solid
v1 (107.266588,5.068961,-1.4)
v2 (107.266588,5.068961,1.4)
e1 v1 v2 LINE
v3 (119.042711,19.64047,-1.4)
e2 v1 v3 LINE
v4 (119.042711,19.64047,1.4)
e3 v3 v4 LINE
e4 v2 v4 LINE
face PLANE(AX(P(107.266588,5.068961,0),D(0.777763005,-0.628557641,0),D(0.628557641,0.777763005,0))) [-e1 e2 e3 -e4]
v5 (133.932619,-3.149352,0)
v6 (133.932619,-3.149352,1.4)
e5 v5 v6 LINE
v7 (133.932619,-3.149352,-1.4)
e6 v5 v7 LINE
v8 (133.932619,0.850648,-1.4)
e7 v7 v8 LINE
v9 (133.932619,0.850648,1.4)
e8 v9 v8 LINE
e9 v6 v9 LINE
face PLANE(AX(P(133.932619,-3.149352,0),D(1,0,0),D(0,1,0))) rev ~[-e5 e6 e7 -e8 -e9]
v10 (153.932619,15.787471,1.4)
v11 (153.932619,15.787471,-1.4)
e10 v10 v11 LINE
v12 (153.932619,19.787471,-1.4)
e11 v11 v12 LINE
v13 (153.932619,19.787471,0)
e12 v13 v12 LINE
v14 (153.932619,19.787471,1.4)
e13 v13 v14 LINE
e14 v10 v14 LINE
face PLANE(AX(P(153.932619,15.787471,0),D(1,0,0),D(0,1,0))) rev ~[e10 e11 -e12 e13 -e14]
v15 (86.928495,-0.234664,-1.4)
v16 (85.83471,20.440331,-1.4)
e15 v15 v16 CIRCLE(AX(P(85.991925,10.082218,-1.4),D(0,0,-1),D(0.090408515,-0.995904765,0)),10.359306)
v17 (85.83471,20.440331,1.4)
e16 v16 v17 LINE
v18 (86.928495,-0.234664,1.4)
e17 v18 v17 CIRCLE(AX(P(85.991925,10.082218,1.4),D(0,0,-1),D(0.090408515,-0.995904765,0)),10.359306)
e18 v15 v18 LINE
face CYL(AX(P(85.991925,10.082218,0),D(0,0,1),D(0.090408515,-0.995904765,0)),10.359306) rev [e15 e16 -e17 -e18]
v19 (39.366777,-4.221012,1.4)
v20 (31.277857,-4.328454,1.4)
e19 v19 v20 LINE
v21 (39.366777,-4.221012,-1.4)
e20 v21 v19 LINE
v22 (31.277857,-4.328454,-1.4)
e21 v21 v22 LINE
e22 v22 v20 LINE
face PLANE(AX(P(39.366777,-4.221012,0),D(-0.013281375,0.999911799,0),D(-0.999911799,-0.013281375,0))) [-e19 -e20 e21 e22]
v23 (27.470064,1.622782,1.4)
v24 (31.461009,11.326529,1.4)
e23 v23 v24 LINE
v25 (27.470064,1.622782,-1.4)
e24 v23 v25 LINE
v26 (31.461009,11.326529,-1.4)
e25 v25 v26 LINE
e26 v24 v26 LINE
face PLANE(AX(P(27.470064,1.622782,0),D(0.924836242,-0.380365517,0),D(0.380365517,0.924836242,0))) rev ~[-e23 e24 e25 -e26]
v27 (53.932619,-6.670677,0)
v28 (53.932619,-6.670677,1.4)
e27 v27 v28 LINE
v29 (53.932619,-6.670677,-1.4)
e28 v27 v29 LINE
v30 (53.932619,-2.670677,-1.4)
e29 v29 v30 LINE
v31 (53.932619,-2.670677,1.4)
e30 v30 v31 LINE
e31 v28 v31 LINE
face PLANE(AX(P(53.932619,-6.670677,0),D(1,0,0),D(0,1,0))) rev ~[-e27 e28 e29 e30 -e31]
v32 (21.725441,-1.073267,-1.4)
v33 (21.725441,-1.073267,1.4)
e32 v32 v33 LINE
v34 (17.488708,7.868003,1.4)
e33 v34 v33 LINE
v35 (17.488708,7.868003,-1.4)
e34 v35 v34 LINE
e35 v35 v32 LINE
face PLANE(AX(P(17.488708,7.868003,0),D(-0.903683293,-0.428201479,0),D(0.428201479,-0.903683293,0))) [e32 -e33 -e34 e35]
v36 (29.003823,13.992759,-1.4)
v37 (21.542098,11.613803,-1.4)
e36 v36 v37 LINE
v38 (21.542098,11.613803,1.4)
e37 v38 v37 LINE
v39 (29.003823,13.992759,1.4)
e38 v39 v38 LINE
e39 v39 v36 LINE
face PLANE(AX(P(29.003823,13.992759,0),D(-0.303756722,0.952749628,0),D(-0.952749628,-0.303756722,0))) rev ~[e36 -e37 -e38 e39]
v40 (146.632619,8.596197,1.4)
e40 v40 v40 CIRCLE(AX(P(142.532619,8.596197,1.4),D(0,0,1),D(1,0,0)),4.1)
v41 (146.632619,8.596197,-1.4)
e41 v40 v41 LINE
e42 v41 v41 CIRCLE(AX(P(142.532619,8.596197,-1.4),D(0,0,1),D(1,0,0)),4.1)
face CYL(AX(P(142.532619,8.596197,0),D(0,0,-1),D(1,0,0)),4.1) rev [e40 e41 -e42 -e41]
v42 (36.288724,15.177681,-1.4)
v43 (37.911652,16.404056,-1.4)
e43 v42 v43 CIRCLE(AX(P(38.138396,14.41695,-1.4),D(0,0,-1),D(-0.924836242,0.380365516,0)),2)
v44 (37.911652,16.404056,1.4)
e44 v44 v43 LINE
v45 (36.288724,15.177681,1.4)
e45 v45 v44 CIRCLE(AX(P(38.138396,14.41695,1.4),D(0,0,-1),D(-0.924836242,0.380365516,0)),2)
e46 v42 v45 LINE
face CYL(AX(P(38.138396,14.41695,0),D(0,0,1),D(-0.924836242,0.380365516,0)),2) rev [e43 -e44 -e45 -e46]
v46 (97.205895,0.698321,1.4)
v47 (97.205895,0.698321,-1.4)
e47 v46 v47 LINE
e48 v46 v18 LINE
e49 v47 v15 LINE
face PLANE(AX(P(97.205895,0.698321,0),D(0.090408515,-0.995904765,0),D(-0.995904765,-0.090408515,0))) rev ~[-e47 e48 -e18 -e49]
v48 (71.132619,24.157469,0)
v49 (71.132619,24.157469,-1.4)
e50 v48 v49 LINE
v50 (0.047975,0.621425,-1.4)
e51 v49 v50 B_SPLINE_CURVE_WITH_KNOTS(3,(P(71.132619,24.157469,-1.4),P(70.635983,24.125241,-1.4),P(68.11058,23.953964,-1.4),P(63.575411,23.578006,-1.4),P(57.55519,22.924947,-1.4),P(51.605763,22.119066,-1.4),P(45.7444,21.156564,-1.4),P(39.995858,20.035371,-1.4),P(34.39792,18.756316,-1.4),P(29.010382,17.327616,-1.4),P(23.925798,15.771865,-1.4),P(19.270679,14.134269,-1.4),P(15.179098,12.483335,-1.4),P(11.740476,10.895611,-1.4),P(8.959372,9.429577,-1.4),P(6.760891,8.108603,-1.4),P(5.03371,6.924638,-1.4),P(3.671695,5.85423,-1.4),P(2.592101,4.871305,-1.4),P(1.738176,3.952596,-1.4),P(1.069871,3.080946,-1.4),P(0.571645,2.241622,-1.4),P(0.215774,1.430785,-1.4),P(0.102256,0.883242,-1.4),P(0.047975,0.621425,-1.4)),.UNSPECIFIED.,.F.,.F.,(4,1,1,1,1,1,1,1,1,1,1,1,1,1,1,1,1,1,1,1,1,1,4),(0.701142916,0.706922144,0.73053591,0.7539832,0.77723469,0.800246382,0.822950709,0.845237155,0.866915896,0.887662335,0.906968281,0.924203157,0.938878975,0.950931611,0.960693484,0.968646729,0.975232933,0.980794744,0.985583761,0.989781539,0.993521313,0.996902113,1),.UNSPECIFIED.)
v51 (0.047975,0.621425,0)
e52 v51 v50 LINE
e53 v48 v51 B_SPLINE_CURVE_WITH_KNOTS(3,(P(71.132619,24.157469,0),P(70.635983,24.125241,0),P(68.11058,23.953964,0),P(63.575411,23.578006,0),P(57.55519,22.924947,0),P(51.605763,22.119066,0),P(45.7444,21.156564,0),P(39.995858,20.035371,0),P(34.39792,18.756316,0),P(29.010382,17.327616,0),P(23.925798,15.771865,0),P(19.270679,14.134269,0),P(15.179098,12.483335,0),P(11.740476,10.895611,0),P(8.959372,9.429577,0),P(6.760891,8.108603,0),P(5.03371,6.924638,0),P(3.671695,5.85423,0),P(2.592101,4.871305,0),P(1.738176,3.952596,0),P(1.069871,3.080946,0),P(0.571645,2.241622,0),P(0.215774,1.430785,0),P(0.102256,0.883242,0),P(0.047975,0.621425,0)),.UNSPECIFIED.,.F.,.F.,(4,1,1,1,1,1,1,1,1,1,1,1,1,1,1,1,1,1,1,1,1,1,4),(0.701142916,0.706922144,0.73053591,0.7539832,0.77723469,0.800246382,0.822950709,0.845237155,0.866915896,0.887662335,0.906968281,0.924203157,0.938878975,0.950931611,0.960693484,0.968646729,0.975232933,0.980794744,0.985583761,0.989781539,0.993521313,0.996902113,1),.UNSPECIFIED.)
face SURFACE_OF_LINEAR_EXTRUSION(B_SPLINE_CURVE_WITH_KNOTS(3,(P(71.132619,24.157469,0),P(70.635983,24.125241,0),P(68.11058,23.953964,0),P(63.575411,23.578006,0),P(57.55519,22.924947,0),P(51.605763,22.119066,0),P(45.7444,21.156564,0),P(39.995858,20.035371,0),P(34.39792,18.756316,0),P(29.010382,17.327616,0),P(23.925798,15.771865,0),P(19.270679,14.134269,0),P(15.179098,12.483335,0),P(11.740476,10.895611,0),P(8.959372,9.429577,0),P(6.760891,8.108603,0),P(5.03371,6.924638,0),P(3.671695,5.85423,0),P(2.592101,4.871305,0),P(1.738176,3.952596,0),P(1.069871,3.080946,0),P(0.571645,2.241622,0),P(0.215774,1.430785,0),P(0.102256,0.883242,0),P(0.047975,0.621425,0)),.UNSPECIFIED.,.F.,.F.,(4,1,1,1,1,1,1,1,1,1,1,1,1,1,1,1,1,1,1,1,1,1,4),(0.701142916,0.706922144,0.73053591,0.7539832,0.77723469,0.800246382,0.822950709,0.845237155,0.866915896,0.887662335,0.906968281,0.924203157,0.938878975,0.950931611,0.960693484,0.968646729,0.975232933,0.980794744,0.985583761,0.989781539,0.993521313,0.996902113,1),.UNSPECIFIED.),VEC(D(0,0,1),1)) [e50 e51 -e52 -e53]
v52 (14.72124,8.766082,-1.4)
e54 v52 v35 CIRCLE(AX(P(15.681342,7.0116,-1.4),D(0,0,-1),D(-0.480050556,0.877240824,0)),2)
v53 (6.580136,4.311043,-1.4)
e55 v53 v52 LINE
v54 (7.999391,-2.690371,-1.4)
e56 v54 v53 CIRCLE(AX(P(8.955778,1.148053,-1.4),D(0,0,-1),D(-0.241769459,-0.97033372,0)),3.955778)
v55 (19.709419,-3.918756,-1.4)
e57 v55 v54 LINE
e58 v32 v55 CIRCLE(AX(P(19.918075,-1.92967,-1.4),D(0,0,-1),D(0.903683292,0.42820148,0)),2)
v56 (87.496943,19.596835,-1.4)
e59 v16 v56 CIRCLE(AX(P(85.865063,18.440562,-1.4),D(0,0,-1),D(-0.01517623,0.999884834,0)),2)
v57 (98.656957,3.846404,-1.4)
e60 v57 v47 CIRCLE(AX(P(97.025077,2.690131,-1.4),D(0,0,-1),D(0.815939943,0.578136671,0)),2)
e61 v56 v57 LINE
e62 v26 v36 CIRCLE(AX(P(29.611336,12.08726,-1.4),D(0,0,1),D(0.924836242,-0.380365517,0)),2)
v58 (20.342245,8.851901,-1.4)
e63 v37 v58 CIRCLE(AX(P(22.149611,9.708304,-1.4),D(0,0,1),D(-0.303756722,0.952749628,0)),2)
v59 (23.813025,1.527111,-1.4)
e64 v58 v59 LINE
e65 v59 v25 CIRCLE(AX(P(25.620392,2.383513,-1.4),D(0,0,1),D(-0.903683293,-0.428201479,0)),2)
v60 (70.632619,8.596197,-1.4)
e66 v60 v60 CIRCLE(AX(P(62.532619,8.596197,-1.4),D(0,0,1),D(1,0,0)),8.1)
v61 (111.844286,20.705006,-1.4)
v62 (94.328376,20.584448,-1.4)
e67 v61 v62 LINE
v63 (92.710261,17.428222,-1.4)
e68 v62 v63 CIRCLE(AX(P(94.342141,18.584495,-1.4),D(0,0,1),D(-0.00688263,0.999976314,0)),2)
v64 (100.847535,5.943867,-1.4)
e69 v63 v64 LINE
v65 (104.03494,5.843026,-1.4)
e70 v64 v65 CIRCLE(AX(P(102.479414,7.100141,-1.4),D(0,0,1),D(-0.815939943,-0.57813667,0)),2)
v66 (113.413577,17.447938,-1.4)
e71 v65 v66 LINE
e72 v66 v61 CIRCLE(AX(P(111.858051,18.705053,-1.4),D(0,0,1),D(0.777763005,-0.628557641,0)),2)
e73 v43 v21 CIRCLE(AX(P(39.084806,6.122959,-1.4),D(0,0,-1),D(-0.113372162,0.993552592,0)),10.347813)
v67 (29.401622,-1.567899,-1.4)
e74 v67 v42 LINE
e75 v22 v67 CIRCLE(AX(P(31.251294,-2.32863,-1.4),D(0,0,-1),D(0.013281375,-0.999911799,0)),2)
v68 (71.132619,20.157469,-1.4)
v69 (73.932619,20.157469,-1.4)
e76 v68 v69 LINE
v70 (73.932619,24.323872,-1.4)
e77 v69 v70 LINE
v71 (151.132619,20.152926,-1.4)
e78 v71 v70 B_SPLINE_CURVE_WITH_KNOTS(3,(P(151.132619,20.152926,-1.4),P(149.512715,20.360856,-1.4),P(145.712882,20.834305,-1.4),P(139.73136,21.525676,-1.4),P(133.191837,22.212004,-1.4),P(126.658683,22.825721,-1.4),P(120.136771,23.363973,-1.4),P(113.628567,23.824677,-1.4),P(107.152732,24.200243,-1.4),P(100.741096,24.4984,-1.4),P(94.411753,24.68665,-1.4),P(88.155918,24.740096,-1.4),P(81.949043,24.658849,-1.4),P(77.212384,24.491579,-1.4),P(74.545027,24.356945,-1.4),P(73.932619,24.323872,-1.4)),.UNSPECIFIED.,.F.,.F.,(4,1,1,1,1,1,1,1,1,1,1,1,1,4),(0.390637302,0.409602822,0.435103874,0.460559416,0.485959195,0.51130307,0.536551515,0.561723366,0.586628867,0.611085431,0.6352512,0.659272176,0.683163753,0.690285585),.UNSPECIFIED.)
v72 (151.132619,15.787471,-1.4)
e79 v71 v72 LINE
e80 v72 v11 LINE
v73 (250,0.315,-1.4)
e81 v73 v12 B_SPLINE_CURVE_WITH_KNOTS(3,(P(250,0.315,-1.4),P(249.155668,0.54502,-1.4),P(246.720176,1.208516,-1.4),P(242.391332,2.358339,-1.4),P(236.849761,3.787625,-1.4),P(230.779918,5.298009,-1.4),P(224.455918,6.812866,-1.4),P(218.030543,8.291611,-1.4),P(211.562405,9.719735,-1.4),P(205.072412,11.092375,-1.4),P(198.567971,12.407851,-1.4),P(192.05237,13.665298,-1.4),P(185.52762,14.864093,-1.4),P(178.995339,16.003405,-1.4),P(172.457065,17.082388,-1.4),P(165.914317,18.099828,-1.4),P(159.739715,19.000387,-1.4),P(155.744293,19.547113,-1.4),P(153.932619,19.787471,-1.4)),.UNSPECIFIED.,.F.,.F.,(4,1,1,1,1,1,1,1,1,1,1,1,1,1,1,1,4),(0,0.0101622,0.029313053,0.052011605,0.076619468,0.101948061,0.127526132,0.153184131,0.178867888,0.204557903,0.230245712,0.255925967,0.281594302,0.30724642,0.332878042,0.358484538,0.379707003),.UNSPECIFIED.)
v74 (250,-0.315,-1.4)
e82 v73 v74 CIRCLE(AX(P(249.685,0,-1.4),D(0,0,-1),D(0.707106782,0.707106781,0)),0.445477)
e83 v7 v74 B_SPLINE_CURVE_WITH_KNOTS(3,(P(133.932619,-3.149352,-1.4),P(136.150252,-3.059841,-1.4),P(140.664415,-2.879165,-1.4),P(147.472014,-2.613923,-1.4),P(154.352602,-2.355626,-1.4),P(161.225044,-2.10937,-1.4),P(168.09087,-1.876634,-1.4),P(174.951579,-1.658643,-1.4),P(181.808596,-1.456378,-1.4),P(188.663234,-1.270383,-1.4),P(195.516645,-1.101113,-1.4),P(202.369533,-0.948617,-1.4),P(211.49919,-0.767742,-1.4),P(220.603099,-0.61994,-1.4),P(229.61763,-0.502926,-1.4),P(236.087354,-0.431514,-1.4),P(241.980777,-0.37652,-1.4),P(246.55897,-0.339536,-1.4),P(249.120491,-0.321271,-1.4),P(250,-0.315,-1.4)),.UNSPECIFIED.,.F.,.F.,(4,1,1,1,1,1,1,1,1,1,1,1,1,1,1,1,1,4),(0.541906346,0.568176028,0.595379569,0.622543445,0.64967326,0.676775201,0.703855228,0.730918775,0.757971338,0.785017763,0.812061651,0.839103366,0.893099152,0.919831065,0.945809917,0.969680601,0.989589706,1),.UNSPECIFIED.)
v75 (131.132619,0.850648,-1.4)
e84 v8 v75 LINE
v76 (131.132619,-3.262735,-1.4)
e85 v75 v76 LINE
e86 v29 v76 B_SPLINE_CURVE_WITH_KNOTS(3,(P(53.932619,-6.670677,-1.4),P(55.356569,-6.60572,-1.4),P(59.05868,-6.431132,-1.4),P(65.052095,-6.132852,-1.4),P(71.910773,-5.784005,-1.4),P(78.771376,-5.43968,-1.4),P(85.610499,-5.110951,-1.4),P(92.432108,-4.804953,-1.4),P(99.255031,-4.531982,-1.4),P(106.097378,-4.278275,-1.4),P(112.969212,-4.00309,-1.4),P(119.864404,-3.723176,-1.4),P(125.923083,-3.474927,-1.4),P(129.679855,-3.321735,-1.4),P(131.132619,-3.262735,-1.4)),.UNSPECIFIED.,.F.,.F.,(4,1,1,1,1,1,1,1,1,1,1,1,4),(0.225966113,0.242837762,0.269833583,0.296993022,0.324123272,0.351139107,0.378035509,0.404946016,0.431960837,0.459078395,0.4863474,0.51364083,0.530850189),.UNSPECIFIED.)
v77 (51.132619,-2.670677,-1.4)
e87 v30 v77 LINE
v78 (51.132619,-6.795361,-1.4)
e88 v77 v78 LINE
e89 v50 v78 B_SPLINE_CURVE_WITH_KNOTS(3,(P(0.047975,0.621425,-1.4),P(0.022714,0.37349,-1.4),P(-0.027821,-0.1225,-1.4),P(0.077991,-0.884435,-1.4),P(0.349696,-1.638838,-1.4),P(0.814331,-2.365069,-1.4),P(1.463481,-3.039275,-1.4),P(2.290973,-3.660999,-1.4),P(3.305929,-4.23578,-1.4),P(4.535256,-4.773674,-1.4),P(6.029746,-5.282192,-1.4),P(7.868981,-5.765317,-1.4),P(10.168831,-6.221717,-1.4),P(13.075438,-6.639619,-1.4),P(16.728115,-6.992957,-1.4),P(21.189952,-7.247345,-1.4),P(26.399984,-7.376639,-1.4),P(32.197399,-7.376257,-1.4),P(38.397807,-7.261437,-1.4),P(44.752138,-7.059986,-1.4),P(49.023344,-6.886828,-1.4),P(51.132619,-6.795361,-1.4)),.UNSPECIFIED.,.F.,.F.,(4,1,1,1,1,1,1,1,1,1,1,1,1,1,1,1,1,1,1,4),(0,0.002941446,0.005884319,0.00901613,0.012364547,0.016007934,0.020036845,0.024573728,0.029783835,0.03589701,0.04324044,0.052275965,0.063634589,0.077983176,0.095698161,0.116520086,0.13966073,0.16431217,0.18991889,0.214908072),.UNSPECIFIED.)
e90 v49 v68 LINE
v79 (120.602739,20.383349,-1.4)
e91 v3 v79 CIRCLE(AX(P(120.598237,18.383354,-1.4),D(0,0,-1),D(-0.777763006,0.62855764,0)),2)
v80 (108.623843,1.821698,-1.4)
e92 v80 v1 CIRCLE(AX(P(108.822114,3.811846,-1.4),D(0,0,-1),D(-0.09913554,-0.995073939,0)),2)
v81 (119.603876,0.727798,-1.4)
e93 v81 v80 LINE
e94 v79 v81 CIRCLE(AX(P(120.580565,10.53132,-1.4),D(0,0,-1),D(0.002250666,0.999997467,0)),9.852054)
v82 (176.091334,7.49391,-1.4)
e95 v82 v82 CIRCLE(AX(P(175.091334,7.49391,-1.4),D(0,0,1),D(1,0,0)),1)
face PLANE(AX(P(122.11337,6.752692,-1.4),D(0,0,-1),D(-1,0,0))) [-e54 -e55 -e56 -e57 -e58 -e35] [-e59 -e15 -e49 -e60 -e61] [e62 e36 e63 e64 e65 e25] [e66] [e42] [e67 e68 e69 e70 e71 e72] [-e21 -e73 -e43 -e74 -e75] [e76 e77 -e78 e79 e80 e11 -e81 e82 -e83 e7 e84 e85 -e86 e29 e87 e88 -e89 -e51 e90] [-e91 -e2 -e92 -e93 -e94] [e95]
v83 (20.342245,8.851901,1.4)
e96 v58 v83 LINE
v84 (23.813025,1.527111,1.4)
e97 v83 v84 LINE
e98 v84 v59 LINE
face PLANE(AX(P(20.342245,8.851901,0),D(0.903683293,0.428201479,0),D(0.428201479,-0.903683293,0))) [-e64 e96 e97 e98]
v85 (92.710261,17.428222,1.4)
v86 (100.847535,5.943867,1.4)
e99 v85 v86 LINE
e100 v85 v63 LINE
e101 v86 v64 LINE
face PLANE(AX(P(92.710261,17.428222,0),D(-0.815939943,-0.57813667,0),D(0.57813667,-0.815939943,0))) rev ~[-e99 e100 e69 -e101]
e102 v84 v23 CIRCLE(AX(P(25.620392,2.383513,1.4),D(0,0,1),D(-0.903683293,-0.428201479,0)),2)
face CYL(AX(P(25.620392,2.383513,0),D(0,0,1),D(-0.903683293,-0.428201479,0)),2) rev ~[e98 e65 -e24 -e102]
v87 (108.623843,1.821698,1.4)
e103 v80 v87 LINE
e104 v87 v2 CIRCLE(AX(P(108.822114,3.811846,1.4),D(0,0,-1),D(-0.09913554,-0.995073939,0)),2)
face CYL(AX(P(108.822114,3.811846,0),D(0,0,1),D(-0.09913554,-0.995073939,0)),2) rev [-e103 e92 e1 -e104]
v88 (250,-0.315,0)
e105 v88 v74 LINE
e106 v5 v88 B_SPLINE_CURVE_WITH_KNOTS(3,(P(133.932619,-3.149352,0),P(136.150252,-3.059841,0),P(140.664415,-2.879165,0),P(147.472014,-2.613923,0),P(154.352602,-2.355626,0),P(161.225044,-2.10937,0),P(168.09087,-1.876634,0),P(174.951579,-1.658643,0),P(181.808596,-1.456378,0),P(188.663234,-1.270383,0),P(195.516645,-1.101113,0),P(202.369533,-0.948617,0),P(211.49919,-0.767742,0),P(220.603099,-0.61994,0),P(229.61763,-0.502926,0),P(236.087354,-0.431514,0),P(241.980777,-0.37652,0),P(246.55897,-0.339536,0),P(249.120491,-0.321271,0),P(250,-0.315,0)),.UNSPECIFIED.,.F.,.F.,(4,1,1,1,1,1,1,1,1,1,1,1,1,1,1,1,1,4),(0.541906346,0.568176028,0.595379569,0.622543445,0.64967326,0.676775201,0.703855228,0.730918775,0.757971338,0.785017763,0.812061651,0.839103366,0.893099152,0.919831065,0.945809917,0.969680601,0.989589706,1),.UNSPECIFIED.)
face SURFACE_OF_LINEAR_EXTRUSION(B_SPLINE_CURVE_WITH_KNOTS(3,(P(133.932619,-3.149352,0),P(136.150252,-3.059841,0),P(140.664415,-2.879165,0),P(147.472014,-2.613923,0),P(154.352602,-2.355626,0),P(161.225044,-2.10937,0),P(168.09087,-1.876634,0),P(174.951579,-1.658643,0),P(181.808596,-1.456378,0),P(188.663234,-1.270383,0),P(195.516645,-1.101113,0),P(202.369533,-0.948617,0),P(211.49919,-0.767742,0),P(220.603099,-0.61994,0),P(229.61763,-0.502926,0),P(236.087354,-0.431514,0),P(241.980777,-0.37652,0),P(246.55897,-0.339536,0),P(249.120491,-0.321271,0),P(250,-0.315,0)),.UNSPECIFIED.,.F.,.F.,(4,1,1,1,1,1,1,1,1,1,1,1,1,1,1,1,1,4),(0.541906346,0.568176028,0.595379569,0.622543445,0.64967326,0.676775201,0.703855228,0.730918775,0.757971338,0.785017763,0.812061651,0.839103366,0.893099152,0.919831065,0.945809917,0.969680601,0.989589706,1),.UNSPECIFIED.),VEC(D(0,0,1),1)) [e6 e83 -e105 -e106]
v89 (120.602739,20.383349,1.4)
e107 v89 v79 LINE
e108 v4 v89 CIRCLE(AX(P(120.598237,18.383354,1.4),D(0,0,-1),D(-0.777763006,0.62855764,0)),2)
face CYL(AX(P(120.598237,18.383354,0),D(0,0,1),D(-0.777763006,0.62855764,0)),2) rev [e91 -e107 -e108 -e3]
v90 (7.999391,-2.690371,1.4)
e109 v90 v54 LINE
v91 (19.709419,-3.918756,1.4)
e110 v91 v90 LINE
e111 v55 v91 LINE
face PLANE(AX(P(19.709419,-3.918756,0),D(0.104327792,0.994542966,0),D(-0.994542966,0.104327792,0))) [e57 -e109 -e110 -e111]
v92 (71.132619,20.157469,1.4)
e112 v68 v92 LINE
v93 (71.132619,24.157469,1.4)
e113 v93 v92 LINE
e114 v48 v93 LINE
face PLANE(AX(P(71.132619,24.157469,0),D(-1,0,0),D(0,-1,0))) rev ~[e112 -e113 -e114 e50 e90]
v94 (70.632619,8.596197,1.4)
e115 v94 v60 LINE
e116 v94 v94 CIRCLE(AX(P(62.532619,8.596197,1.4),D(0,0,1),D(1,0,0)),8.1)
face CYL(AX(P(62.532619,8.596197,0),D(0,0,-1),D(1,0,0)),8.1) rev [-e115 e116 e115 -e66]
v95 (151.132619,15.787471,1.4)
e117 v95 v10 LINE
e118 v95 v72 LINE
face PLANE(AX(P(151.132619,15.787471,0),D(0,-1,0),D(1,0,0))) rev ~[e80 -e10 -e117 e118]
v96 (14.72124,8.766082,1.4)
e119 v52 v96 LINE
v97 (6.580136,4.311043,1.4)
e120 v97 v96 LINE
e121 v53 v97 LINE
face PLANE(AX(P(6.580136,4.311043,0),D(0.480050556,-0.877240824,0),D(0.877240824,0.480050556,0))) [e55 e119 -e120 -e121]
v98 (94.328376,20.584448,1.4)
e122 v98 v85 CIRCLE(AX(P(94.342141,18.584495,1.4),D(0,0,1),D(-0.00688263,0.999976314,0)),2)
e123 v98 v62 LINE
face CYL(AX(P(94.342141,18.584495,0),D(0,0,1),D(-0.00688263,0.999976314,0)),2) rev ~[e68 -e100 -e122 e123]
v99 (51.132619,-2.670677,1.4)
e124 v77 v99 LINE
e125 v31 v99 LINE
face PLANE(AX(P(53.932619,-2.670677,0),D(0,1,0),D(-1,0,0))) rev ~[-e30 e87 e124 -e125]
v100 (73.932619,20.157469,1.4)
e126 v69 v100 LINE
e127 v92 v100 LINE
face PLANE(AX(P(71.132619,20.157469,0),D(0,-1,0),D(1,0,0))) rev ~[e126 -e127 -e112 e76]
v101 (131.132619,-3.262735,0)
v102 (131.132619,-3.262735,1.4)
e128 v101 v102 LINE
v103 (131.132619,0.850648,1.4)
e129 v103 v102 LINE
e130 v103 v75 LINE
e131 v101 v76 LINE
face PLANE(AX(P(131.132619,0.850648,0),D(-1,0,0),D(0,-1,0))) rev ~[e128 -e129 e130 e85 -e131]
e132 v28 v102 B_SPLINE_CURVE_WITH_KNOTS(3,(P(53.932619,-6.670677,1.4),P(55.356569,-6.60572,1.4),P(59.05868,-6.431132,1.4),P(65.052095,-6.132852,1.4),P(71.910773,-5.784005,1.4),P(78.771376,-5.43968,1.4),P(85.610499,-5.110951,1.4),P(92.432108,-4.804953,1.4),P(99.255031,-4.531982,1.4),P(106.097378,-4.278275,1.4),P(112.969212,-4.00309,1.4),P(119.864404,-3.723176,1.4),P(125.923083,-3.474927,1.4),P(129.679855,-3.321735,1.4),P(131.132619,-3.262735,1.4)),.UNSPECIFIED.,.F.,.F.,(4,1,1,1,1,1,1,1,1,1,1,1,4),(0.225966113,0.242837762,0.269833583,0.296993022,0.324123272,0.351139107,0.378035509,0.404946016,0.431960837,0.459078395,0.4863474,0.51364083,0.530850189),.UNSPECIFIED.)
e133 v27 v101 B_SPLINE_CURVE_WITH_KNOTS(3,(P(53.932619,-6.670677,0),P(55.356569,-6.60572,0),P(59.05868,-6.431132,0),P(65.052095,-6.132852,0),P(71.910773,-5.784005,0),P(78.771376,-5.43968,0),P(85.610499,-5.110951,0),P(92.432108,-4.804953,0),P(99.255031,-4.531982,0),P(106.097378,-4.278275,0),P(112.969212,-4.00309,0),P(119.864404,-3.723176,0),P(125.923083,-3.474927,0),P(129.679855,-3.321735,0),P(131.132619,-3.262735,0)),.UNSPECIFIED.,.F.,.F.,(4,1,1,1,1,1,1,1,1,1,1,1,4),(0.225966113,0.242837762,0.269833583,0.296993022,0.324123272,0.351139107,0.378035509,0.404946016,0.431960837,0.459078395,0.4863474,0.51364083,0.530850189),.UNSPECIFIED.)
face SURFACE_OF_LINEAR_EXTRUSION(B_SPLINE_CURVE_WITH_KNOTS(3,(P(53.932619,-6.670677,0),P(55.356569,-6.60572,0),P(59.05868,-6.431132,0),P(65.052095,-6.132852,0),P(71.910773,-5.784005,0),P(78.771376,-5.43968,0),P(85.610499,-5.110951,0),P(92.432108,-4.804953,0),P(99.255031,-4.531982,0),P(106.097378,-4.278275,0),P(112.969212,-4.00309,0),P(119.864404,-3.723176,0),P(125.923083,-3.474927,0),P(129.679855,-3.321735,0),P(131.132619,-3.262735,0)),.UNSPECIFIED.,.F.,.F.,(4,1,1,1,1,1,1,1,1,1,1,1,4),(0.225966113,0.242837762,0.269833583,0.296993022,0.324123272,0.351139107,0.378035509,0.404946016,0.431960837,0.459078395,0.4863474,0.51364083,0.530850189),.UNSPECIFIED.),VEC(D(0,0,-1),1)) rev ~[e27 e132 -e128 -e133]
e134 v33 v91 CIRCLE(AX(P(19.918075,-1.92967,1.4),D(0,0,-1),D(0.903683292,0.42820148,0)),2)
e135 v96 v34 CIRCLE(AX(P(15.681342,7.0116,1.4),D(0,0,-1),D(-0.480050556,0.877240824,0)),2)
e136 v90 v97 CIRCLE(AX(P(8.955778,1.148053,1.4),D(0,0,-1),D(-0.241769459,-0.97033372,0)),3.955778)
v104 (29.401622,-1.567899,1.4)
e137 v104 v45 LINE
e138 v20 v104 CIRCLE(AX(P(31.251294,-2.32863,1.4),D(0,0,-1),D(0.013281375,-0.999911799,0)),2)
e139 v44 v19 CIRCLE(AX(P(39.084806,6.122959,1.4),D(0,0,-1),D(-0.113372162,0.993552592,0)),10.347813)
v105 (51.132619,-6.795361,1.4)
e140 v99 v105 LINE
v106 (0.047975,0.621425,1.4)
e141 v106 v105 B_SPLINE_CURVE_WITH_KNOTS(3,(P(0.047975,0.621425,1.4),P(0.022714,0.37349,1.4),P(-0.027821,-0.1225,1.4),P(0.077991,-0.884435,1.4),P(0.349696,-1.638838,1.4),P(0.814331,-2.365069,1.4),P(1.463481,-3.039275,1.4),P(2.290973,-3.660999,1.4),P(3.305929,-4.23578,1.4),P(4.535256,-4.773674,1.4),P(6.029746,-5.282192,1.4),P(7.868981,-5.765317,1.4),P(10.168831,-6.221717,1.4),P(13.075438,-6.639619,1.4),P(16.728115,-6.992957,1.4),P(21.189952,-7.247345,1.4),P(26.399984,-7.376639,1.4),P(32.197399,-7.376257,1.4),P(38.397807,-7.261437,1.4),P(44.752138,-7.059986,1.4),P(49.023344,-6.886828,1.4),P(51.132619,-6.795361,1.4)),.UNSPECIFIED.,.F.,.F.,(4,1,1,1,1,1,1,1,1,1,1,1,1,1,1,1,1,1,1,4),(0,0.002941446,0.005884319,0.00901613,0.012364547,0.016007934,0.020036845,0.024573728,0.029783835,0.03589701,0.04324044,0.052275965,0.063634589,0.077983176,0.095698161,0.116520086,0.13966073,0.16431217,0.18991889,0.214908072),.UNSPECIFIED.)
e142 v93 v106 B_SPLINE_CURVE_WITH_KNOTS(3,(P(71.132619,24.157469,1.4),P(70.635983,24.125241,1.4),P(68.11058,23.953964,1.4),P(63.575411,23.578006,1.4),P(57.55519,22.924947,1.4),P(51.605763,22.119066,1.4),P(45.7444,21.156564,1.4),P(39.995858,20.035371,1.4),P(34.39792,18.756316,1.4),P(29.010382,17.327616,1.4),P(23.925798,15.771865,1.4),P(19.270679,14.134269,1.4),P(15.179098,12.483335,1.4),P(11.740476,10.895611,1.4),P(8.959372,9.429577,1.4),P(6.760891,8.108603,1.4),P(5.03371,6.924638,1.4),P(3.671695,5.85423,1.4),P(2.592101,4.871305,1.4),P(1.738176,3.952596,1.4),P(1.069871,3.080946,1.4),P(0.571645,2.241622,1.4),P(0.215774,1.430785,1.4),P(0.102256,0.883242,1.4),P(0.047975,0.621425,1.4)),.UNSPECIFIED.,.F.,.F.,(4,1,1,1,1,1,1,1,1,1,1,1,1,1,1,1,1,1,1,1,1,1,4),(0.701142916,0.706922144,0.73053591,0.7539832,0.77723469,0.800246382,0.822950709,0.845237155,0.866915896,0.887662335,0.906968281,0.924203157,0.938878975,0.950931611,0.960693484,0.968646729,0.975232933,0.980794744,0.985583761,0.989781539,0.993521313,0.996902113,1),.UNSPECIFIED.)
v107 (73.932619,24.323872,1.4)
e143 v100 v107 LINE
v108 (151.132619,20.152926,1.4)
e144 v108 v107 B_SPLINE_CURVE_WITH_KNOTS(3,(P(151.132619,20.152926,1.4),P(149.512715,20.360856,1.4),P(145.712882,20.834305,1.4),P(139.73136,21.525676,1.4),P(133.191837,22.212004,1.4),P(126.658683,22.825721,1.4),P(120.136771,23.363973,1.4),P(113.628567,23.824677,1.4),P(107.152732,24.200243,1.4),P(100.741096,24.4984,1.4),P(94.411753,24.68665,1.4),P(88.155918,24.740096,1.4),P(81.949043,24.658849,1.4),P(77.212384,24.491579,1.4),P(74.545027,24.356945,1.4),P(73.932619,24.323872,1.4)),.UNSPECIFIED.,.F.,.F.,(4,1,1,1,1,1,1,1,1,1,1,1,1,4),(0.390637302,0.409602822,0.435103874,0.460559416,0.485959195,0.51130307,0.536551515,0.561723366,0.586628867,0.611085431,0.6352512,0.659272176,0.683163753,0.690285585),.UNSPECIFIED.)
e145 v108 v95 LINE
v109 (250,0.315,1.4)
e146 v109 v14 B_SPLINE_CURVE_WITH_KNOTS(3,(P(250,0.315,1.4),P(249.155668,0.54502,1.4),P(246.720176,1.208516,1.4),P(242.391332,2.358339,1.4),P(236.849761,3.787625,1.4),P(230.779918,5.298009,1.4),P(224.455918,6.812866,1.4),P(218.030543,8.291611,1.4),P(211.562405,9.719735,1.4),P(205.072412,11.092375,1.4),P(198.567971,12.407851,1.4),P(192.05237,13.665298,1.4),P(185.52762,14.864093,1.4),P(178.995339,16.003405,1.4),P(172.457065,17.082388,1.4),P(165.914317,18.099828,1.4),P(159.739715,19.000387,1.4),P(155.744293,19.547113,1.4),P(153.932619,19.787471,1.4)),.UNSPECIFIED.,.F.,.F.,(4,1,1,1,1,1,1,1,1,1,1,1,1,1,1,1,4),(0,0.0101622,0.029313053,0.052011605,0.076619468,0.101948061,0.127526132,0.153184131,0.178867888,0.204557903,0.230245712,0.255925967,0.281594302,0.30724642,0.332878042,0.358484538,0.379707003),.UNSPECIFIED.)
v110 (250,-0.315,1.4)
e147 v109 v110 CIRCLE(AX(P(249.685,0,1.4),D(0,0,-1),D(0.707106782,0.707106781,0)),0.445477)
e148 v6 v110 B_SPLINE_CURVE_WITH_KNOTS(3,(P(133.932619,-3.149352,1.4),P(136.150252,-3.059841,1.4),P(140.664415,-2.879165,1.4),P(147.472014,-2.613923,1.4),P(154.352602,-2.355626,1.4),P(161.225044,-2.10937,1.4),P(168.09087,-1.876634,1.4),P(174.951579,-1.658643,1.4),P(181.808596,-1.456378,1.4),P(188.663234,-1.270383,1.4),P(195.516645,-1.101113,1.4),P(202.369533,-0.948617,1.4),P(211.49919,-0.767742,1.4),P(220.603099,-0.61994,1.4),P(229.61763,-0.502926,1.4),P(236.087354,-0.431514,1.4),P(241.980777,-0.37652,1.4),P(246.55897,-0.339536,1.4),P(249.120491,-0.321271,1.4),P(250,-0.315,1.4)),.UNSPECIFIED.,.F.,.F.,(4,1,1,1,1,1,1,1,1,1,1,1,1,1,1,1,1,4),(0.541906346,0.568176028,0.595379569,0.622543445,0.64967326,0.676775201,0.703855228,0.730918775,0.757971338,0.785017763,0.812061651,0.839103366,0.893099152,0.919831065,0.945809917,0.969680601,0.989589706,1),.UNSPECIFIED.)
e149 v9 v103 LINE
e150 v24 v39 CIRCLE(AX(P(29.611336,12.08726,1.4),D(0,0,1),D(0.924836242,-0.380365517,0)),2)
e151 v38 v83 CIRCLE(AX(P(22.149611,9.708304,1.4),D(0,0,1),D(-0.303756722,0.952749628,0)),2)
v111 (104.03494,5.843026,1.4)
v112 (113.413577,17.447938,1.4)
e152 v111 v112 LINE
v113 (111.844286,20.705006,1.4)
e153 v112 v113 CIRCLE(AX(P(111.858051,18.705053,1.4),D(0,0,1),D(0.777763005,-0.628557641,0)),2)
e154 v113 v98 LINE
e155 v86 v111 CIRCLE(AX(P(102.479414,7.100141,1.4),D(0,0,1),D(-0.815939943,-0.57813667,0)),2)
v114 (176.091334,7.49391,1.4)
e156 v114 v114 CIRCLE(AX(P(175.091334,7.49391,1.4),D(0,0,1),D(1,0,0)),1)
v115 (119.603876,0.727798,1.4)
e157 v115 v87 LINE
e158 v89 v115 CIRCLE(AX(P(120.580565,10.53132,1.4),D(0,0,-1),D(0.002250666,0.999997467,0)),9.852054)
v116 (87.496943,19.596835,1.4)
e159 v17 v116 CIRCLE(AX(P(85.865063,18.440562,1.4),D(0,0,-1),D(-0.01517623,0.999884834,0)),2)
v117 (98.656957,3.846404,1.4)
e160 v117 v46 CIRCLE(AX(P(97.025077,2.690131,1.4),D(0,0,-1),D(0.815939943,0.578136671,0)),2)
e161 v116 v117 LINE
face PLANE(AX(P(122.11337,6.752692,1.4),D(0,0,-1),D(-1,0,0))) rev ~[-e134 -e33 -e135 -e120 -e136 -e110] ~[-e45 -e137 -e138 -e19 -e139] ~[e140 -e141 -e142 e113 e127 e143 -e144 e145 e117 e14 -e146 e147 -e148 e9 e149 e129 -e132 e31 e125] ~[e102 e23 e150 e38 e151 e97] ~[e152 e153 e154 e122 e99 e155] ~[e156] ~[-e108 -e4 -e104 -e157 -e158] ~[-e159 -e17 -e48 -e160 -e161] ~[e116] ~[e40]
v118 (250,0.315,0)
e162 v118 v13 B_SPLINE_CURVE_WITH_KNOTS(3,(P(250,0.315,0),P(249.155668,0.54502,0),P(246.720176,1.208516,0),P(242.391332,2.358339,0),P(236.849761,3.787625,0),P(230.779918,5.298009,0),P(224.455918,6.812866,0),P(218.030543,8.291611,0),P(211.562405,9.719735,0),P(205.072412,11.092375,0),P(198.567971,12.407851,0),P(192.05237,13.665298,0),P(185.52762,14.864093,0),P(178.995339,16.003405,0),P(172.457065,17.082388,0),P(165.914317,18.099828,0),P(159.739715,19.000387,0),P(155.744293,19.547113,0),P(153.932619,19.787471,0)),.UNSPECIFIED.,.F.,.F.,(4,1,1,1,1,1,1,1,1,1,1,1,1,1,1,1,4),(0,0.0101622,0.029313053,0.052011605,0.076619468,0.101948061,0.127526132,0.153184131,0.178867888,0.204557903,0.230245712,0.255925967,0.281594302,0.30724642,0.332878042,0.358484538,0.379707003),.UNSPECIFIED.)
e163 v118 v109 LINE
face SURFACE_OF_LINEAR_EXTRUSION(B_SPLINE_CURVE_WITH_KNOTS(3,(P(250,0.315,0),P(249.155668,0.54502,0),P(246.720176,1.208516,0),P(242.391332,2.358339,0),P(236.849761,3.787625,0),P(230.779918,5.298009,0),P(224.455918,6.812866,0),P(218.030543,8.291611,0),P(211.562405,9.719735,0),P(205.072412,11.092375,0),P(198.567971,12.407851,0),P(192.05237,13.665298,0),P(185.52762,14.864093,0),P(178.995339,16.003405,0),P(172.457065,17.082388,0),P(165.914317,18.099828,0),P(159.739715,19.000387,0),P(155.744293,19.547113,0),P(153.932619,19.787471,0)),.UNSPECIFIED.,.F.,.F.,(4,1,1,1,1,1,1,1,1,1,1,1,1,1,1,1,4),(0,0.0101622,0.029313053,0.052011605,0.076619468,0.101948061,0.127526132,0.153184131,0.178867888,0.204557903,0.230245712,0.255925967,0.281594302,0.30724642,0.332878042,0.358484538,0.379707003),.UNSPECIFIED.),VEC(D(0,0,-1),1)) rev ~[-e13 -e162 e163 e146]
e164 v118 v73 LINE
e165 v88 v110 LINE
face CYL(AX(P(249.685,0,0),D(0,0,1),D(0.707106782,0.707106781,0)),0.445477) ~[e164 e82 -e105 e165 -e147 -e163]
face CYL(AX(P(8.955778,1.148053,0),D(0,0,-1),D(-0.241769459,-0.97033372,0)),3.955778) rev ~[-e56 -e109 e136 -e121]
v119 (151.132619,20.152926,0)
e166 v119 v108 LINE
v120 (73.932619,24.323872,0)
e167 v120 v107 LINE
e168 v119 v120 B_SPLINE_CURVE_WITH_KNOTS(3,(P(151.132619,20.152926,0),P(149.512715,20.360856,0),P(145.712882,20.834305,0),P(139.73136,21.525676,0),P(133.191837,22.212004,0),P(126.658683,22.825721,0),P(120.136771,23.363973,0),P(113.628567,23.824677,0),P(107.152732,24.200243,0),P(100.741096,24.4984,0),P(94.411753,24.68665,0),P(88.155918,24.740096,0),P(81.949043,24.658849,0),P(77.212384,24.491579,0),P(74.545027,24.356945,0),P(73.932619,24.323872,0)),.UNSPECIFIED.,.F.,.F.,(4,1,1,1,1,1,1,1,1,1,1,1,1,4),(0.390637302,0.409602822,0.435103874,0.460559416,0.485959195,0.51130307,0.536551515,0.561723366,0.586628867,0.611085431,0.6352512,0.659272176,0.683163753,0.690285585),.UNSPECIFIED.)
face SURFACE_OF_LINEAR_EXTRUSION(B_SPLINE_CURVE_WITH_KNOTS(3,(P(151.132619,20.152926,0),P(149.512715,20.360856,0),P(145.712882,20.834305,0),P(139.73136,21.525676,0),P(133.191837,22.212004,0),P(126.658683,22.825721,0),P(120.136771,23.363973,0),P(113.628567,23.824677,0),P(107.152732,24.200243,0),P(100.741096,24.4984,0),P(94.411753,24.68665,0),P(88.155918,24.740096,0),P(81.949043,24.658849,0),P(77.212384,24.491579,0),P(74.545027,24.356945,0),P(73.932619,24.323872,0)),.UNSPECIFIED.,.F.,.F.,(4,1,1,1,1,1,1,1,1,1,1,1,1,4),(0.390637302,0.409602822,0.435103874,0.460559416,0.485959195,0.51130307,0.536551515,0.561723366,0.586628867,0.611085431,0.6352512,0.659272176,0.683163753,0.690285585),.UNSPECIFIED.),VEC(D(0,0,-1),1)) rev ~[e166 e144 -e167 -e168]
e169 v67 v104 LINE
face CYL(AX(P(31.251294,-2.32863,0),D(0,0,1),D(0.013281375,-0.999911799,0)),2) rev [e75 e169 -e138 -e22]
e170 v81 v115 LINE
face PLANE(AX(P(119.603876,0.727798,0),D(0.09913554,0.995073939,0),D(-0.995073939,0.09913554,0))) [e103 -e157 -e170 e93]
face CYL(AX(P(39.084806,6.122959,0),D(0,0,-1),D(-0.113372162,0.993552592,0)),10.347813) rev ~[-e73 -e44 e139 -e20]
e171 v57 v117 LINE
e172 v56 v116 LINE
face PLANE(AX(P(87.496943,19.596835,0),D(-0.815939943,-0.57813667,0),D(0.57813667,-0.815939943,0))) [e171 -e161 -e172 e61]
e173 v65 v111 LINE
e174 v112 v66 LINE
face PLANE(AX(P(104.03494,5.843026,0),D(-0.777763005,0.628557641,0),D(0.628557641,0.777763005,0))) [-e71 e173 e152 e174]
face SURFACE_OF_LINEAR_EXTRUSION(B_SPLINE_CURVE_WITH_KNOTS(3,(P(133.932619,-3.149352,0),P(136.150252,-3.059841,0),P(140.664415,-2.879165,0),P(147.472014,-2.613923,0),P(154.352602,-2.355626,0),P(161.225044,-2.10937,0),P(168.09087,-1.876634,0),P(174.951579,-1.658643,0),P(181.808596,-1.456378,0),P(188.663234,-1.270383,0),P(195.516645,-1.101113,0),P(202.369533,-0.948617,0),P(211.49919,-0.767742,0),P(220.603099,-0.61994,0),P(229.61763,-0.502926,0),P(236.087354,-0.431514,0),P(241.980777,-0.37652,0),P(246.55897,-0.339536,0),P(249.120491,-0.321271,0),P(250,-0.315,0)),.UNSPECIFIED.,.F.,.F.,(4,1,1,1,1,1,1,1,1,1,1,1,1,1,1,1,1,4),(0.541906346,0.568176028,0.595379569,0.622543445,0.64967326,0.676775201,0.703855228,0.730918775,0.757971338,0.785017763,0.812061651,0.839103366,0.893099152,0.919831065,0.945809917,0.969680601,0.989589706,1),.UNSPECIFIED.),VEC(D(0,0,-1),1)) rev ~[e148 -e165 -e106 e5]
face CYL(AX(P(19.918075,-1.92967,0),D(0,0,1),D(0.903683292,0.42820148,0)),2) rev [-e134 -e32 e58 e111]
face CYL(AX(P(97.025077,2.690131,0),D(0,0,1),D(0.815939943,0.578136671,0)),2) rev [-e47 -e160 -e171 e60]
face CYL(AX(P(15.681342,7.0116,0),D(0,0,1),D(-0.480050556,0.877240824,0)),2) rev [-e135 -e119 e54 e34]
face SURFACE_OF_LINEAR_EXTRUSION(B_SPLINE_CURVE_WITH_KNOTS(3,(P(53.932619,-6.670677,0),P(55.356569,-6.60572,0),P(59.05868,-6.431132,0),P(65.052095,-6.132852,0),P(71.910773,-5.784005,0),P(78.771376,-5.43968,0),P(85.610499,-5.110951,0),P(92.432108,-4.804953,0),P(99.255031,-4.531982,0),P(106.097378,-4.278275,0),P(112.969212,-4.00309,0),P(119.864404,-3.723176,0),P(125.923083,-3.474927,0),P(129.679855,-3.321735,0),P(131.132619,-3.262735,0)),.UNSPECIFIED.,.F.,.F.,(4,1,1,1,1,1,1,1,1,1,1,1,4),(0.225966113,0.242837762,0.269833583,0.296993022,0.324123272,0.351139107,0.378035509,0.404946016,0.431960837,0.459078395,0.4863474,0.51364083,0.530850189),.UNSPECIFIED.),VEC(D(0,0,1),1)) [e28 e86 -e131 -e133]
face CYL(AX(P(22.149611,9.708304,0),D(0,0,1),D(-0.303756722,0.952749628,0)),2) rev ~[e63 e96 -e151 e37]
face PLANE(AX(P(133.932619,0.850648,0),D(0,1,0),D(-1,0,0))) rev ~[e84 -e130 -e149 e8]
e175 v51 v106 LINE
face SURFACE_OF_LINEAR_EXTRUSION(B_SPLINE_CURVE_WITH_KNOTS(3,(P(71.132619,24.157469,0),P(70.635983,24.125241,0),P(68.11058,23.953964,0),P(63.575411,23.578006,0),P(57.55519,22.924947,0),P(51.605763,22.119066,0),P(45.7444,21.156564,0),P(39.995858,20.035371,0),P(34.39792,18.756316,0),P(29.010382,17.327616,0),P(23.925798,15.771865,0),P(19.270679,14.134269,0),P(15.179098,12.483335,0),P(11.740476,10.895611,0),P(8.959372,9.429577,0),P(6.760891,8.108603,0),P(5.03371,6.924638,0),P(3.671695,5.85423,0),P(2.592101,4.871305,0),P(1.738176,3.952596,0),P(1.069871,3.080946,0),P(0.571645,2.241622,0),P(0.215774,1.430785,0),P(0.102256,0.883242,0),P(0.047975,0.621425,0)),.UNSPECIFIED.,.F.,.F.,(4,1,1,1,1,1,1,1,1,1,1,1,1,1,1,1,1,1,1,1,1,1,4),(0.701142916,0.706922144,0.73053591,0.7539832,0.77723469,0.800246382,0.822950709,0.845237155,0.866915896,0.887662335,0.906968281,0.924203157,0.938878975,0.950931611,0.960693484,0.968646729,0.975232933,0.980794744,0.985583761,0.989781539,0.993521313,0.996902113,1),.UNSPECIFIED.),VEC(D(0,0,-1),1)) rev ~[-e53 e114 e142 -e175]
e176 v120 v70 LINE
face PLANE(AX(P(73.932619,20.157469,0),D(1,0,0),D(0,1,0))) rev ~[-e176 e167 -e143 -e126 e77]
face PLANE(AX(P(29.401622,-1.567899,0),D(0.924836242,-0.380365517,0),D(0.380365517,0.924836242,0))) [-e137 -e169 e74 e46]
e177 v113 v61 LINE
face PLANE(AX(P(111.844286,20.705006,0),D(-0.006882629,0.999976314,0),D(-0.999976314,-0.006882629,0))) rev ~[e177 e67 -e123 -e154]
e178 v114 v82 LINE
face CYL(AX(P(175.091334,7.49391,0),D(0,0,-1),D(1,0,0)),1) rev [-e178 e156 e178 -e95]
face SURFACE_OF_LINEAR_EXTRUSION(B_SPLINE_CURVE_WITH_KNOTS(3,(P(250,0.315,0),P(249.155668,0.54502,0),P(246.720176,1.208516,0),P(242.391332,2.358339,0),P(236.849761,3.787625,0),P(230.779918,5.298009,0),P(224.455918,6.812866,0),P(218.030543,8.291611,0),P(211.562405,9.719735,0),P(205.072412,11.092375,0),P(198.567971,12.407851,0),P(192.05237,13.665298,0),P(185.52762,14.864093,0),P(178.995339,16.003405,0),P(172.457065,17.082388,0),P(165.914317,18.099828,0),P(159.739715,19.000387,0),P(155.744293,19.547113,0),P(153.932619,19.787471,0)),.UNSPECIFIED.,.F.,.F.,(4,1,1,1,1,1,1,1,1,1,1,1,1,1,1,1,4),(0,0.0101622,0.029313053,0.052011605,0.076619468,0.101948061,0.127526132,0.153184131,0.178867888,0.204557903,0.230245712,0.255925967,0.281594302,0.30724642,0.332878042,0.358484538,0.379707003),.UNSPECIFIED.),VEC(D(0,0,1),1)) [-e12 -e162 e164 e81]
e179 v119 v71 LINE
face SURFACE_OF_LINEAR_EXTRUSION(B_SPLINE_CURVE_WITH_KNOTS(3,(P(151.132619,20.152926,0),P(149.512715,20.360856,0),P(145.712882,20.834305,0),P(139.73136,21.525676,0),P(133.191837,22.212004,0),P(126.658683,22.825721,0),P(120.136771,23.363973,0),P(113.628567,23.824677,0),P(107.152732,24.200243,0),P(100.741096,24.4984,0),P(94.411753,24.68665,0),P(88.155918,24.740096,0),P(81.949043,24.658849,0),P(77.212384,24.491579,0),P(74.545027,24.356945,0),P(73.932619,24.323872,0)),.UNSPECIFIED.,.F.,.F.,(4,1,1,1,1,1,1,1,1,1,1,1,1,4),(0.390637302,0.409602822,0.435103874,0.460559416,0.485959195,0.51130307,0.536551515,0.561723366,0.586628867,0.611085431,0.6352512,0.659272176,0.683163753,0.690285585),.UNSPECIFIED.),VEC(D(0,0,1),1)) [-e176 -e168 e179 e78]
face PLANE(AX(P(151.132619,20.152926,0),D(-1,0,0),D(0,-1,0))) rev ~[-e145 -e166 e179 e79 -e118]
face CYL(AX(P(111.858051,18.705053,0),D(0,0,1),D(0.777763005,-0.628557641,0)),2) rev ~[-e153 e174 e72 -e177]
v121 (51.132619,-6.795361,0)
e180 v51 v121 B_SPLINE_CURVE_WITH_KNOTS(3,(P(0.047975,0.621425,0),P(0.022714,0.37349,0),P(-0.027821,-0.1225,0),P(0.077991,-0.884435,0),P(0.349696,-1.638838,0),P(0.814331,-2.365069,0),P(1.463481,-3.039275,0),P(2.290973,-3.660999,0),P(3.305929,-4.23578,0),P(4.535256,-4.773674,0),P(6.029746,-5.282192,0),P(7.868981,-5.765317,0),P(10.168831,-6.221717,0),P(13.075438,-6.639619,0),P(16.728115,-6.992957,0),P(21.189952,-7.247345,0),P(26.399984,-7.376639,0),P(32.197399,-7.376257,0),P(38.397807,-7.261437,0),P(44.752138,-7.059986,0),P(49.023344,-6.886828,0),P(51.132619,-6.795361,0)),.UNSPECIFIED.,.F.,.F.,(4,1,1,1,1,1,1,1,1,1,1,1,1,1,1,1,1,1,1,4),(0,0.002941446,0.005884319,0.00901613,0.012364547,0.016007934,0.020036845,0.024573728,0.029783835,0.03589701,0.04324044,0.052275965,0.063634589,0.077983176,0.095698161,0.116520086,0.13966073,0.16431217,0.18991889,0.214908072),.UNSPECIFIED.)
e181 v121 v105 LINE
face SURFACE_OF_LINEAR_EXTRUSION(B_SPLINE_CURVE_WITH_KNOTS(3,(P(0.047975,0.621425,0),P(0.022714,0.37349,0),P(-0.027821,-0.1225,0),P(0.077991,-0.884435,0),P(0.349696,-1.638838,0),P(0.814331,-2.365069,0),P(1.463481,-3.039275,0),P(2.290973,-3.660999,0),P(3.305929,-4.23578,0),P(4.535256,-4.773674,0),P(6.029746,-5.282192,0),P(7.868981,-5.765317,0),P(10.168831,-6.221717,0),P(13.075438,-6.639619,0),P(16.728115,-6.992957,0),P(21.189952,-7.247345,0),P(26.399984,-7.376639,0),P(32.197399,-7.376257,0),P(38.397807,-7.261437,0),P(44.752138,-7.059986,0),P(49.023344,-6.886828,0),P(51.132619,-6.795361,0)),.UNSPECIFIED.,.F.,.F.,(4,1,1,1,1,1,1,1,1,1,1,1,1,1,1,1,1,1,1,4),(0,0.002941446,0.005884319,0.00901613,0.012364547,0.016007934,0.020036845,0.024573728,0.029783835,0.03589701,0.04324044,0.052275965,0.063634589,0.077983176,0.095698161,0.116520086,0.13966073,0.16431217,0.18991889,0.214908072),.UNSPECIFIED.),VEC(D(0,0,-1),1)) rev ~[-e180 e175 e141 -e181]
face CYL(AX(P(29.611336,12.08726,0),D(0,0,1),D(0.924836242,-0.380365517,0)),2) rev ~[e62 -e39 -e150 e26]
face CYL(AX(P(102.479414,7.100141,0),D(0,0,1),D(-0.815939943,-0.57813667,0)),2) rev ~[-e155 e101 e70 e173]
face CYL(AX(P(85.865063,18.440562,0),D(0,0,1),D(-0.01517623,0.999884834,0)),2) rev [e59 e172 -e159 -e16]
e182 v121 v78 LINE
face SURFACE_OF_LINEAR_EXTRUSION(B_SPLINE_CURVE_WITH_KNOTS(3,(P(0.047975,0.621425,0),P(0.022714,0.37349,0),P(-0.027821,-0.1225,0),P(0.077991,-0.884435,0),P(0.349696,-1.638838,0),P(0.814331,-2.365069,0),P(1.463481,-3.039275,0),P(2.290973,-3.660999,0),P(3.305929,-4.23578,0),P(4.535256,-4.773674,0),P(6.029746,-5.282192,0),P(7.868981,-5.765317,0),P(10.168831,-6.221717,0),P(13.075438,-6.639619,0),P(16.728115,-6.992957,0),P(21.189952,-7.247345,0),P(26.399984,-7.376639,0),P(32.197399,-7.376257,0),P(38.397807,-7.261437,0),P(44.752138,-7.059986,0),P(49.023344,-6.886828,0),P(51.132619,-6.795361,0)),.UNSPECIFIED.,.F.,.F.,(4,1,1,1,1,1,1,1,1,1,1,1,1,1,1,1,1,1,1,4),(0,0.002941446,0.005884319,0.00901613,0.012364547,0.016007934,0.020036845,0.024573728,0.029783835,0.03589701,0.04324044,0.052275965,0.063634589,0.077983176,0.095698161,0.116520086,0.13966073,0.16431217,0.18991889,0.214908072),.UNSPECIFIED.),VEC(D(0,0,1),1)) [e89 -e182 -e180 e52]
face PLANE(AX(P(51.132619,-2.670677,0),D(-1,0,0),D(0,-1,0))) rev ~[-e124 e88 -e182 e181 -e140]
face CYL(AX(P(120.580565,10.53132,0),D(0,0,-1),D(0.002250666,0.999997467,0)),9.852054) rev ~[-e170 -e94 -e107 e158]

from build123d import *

# Parameters (mm, degrees)
SKETCH_2_R      = 8.1
SKETCH_2_R_2    = 4.1
SKETCH_2_R_3    = 1
EXTRUDE_2_DEPTH = 1.4


with BuildPart() as part:
    # Эскиз2 → Бобышка-Вытянуть2 (new, symmetric)
    with BuildSketch(Plane.XY):
        with BuildLine():
            Line((151.132619318, 20.152925753), (151.132619318, 15.787470759))
            Line((151.132619318, 15.787470759), (153.932619318, 15.787470759))
            Line((153.932619318, 15.787470759), (153.932619318, 19.787470759))
            add(Edge.make_bspline(
                [(250, 0.315), (249.15566774, 0.545019818), (246.720175697, 1.208516241), (242.391332083, 2.35833905), (236.849761203, 3.787625359), (230.779918277, 5.29800883), (224.455917945, 6.812866018), (218.030543493, 8.29161062), (211.562405041, 9.719735042), (205.072411505, 11.092374915), (198.567970908, 12.407850707), (192.052369908, 13.665297902), (185.527619967, 14.864093279), (178.995338985, 16.003404752), (172.457064735, 17.082388086), (165.914317088, 18.099827809), (159.739714866, 19.000386852), (155.744292591, 19.547112651), (153.932619318, 19.787470759)],
                knots=[0, 0, 0, 0, 0.0101622, 0.029313053, 0.052011605, 0.076619468, 0.101948061, 0.127526132, 0.153184131, 0.178867888, 0.204557903, 0.230245712, 0.255925967, 0.281594302, 0.30724642, 0.332878042, 0.358484538, 0.379707003, 0.379707003, 0.379707003, 0.379707003], degree=3))
            ThreePointArc((250, 0.315), (250.130477272, 0), (250, -0.315))
            add(Edge.make_bspline(
                [(133.932619318, -3.149352186), (136.150252366, -3.05984138), (140.66441482, -2.879164577), (147.472013762, -2.613922958), (154.352602411, -2.355626415), (161.225044134, -2.109369921), (168.090869746, -1.876634074), (174.951578522, -1.658643104), (181.808595966, -1.456378123), (188.663234462, -1.270383377), (195.516645168, -1.101112884), (202.369532894, -0.948617189), (211.49919029, -0.767742353), (220.603098666, -0.619939742), (229.617630172, -0.50292618), (236.087353854, -0.431514192), (241.980776913, -0.376520461), (246.558970011, -0.339535886), (249.120490965, -0.321271242), (250, -0.315)],
                knots=[0.541906346, 0.541906346, 0.541906346, 0.541906346, 0.568176028, 0.595379569, 0.622543445, 0.64967326, 0.676775201, 0.703855228, 0.730918775, 0.757971338, 0.785017763, 0.812061651, 0.839103366, 0.893099152, 0.919831065, 0.945809917, 0.969680601, 0.989589706, 1, 1, 1, 1], degree=3))
            Line((133.932619318, -3.149352186), (133.932619318, 0.850647814))
            Line((133.932619318, 0.850647814), (131.132619318, 0.850647814))
            Line((131.132619318, 0.850647814), (131.132619318, -3.262735091))
            add(Edge.make_bspline(
                [(53.932619318, -6.670677263), (55.356569482, -6.605720394), (59.058679651, -6.431131786), (65.052094606, -6.13285227), (71.91077271, -5.784005184), (78.771375577, -5.439680462), (85.61049861, -5.110951262), (92.43210759, -4.804953337), (99.255031191, -4.531981668), (106.097378406, -4.278274685), (112.969211681, -4.003089942), (119.864404255, -3.723176202), (125.92308308, -3.47492717), (129.679854903, -3.321735217), (131.132619318, -3.262735091)],
                knots=[0.225966113, 0.225966113, 0.225966113, 0.225966113, 0.242837762, 0.269833583, 0.296993022, 0.324123272, 0.351139107, 0.378035509, 0.404946016, 0.431960837, 0.459078395, 0.4863474, 0.51364083, 0.530850189, 0.530850189, 0.530850189, 0.530850189], degree=3))
            Line((53.932619318, -6.670677263), (53.932619318, -2.670677263))
            Line((53.932619318, -2.670677263), (51.132619318, -2.670677263))
            Line((51.132619318, -2.670677263), (51.132619318, -6.795360627))
            add(Edge.make_bspline(
                [(0.047975001, 0.621424995), (0.022713821, 0.373490081), (-0.027820788, -0.12249998), (0.077991213, -0.884434595), (0.349695651, -1.638838075), (0.814331136, -2.365068928), (1.463480781, -3.039275249), (2.290973018, -3.660999474), (3.305928751, -4.235779626), (4.53525562, -4.773674148), (6.029745689, -5.282192169), (7.868981216, -5.765316681), (10.168831393, -6.221716597), (13.07543819, -6.639618735), (16.728115364, -6.992956742), (21.189952097, -7.247345149), (26.399984417, -7.376638853), (32.197398565, -7.376256917), (38.39780676, -7.261436583), (44.752137938, -7.05998551), (49.023344092, -6.886827907), (51.132619318, -6.795360627)],
                knots=[0, 0, 0, 0, 0.002941446, 0.005884319, 0.00901613, 0.012364547, 0.016007934, 0.020036845, 0.024573728, 0.029783835, 0.03589701, 0.04324044, 0.052275965, 0.063634589, 0.077983176, 0.095698161, 0.116520086, 0.13966073, 0.16431217, 0.18991889, 0.214908072, 0.214908072, 0.214908072, 0.214908072], degree=3))
            add(Edge.make_bspline(
                [(71.132619318, 24.157469486), (70.635982629, 24.125241372), (68.110579653, 23.953963558), (63.575410502, 23.578006358), (57.555189551, 22.924946655), (51.605762689, 22.119065518), (45.744400312, 21.156564429), (39.995857594, 20.035371386), (34.397919843, 18.75631623), (29.010382104, 17.327615604), (23.925798409, 15.771864917), (19.27067884, 14.13426943), (15.179098392, 12.483335433), (11.740475791, 10.89561099), (8.959371869, 9.429577361), (6.760891181, 8.108603195), (5.033709749, 6.92463805), (3.671694934, 5.85422966), (2.592101124, 4.871305364), (1.738175669, 3.952595739), (1.069870831, 3.080946369), (0.571645411, 2.241622098), (0.2157739, 1.430785392), (0.102255582, 0.88324169), (0.047975001, 0.621424995)],
                knots=[0.701142916, 0.701142916, 0.701142916, 0.701142916, 0.706922144, 0.73053591, 0.7539832, 0.77723469, 0.800246382, 0.822950709, 0.845237155, 0.866915896, 0.887662335, 0.906968281, 0.924203157, 0.938878975, 0.950931611, 0.960693484, 0.968646729, 0.975232933, 0.980794744, 0.985583761, 0.989781539, 0.993521313, 0.996902113, 1, 1, 1, 1], degree=3))
            Line((71.132619318, 24.157469486), (71.132619318, 20.157469486))
            Line((71.132619318, 20.157469486), (73.932619318, 20.157469486))
            Line((73.932619318, 20.157469486), (73.932619318, 24.323871534))
            add(Edge.make_bspline(
                [(151.132619318, 20.152925753), (149.51271539, 20.360855756), (145.712882211, 20.834305053), (139.731359791, 21.525676112), (133.19183673, 22.212004248), (126.658683026, 22.825721427), (120.136770918, 23.363973264), (113.62856714, 23.824677322), (107.152732037, 24.200242592), (100.741095693, 24.498399508), (94.411752715, 24.686649766), (88.155917993, 24.740095648), (81.949043055, 24.658849141), (77.212383792, 24.491578654), (74.545027167, 24.35694527), (73.932619318, 24.323871534)],
                knots=[0.390637302, 0.390637302, 0.390637302, 0.390637302, 0.409602822, 0.435103874, 0.460559416, 0.485959195, 0.51130307, 0.536551515, 0.561723366, 0.586628867, 0.611085431, 0.6352512, 0.659272176, 0.683163753, 0.690285585, 0.690285585, 0.690285585, 0.690285585], degree=3))
        make_face()
        with Locations((62.532619318, 8.596197208)):
            Circle(SKETCH_2_R, mode=Mode.SUBTRACT)
        with Locations((142.532619318, 8.596197208)):
            Circle(SKETCH_2_R_2, mode=Mode.SUBTRACT)
        with Locations((175.091334091, 7.493910357)):
            Circle(SKETCH_2_R_3, mode=Mode.SUBTRACT)
        with BuildLine():
            Line((87.496942629, 19.59683512), (98.656957359, 3.846404038))
            ThreePointArc((98.656957359, 3.846404038), (98.841412786, 1.852917443), (97.205894504, 0.698321168))
            Line((97.205894504, 0.698321168), (86.928494978, -0.234664059))
            ThreePointArc((86.928494978, -0.234664059), (75.647085804, 9.534937552), (85.834710285, 20.440331448))
            ThreePointArc((85.834710285, 20.440331448), (86.770100886, 20.22407123), (87.496942629, 19.59683512))
        make_face(mode=Mode.SUBTRACT)
        with BuildLine():
            Line((107.26658781, 5.068960843), (119.042711354, 19.640469699))
            ThreePointArc((119.042711354, 19.640469699), (119.738361249, 20.189071191), (120.602738696, 20.383349351))
            ThreePointArc((120.602738696, 20.383349351), (130.419922424, 10.031300237), (119.603876283, 0.727797506))
            Line((119.603876283, 0.727797506), (108.623842739, 1.821697682))
            ThreePointArc((108.623842739, 1.821697682), (106.976814232, 3.040567769), (107.26658781, 5.068960843))
        make_face(mode=Mode.SUBTRACT)
        with BuildLine():
            Line((92.710261403, 17.428221559), (100.847534604, 5.943867476))
            ThreePointArc((100.847534604, 5.943867476), (102.41617089, 5.101141005), (104.034940499, 5.843025535))
            Line((104.034940499, 5.843025535), (113.413576859, 17.447937989))
            ThreePointArc((113.413576859, 17.447937989), (113.659822033, 19.573166514), (111.84428559, 20.7050059))
            Line((111.84428559, 20.7050059), (94.32837603, 20.584447529))
            ThreePointArc((94.32837603, 20.584447529), (92.562400415, 19.496921566), (92.710261403, 17.428221559))
        make_face(mode=Mode.SUBTRACT)
        with BuildLine():
            Line((17.488708089, 7.868002897), (21.725441093, -1.073266618))
            ThreePointArc((21.725441093, -1.073266618), (21.549996986, -3.085882804), (19.709418924, -3.918755509))
            Line((19.709418924, -3.918755509), (7.999391348, -2.690370853))
            ThreePointArc((7.999391348, -2.690370853), (5.078852056, 0.362162442), (6.580135706, 4.311042875))
            Line((6.580135706, 4.311042875), (14.721240391, 8.766081587))
            ThreePointArc((14.721240391, 8.766081587), (16.29867531, 8.913940332), (17.488708089, 7.868002897))
        make_face(mode=Mode.SUBTRACT)
        with BuildLine():
            Line((29.401621993, -1.567898965), (36.28872379, 15.177681436))
            ThreePointArc((36.28872379, 15.177681436), (36.93262885, 16.01260855), (37.911651949, 16.404055587))
            ThreePointArc((37.911651949, 16.404055587), (49.40696202, 6.85120019), (39.366777065, -4.221012142))
            Line((39.366777065, -4.221012142), (31.277857225, -4.328453595))
            ThreePointArc((31.277857225, -4.328453595), (29.59717908, -3.452864074), (29.401621993, -1.567898965))
        make_face(mode=Mode.SUBTRACT)
        with BuildLine():
            Line((20.342244628, 8.85190119), (23.813024955, 1.527110532))
            ThreePointArc((23.813024955, 1.527110532), (25.672695714, 0.384197539), (27.470064023, 1.622782457))
            Line((27.470064023, 1.622782457), (31.461008962, 11.326528867))
            ThreePointArc((31.461008962, 11.326528867), (31.082028751, 13.44264333), (29.003823035, 13.992759157))
            Line((29.003823035, 13.992759157), (21.542097769, 11.613803404))
            ThreePointArc((21.542097769, 11.613803404), (20.315234657, 10.50521233), (20.342244628, 8.85190119))
        make_face(mode=Mode.SUBTRACT)
    extrude(amount=EXTRUDE_2_DEPTH, both=True)


solid = part.part
